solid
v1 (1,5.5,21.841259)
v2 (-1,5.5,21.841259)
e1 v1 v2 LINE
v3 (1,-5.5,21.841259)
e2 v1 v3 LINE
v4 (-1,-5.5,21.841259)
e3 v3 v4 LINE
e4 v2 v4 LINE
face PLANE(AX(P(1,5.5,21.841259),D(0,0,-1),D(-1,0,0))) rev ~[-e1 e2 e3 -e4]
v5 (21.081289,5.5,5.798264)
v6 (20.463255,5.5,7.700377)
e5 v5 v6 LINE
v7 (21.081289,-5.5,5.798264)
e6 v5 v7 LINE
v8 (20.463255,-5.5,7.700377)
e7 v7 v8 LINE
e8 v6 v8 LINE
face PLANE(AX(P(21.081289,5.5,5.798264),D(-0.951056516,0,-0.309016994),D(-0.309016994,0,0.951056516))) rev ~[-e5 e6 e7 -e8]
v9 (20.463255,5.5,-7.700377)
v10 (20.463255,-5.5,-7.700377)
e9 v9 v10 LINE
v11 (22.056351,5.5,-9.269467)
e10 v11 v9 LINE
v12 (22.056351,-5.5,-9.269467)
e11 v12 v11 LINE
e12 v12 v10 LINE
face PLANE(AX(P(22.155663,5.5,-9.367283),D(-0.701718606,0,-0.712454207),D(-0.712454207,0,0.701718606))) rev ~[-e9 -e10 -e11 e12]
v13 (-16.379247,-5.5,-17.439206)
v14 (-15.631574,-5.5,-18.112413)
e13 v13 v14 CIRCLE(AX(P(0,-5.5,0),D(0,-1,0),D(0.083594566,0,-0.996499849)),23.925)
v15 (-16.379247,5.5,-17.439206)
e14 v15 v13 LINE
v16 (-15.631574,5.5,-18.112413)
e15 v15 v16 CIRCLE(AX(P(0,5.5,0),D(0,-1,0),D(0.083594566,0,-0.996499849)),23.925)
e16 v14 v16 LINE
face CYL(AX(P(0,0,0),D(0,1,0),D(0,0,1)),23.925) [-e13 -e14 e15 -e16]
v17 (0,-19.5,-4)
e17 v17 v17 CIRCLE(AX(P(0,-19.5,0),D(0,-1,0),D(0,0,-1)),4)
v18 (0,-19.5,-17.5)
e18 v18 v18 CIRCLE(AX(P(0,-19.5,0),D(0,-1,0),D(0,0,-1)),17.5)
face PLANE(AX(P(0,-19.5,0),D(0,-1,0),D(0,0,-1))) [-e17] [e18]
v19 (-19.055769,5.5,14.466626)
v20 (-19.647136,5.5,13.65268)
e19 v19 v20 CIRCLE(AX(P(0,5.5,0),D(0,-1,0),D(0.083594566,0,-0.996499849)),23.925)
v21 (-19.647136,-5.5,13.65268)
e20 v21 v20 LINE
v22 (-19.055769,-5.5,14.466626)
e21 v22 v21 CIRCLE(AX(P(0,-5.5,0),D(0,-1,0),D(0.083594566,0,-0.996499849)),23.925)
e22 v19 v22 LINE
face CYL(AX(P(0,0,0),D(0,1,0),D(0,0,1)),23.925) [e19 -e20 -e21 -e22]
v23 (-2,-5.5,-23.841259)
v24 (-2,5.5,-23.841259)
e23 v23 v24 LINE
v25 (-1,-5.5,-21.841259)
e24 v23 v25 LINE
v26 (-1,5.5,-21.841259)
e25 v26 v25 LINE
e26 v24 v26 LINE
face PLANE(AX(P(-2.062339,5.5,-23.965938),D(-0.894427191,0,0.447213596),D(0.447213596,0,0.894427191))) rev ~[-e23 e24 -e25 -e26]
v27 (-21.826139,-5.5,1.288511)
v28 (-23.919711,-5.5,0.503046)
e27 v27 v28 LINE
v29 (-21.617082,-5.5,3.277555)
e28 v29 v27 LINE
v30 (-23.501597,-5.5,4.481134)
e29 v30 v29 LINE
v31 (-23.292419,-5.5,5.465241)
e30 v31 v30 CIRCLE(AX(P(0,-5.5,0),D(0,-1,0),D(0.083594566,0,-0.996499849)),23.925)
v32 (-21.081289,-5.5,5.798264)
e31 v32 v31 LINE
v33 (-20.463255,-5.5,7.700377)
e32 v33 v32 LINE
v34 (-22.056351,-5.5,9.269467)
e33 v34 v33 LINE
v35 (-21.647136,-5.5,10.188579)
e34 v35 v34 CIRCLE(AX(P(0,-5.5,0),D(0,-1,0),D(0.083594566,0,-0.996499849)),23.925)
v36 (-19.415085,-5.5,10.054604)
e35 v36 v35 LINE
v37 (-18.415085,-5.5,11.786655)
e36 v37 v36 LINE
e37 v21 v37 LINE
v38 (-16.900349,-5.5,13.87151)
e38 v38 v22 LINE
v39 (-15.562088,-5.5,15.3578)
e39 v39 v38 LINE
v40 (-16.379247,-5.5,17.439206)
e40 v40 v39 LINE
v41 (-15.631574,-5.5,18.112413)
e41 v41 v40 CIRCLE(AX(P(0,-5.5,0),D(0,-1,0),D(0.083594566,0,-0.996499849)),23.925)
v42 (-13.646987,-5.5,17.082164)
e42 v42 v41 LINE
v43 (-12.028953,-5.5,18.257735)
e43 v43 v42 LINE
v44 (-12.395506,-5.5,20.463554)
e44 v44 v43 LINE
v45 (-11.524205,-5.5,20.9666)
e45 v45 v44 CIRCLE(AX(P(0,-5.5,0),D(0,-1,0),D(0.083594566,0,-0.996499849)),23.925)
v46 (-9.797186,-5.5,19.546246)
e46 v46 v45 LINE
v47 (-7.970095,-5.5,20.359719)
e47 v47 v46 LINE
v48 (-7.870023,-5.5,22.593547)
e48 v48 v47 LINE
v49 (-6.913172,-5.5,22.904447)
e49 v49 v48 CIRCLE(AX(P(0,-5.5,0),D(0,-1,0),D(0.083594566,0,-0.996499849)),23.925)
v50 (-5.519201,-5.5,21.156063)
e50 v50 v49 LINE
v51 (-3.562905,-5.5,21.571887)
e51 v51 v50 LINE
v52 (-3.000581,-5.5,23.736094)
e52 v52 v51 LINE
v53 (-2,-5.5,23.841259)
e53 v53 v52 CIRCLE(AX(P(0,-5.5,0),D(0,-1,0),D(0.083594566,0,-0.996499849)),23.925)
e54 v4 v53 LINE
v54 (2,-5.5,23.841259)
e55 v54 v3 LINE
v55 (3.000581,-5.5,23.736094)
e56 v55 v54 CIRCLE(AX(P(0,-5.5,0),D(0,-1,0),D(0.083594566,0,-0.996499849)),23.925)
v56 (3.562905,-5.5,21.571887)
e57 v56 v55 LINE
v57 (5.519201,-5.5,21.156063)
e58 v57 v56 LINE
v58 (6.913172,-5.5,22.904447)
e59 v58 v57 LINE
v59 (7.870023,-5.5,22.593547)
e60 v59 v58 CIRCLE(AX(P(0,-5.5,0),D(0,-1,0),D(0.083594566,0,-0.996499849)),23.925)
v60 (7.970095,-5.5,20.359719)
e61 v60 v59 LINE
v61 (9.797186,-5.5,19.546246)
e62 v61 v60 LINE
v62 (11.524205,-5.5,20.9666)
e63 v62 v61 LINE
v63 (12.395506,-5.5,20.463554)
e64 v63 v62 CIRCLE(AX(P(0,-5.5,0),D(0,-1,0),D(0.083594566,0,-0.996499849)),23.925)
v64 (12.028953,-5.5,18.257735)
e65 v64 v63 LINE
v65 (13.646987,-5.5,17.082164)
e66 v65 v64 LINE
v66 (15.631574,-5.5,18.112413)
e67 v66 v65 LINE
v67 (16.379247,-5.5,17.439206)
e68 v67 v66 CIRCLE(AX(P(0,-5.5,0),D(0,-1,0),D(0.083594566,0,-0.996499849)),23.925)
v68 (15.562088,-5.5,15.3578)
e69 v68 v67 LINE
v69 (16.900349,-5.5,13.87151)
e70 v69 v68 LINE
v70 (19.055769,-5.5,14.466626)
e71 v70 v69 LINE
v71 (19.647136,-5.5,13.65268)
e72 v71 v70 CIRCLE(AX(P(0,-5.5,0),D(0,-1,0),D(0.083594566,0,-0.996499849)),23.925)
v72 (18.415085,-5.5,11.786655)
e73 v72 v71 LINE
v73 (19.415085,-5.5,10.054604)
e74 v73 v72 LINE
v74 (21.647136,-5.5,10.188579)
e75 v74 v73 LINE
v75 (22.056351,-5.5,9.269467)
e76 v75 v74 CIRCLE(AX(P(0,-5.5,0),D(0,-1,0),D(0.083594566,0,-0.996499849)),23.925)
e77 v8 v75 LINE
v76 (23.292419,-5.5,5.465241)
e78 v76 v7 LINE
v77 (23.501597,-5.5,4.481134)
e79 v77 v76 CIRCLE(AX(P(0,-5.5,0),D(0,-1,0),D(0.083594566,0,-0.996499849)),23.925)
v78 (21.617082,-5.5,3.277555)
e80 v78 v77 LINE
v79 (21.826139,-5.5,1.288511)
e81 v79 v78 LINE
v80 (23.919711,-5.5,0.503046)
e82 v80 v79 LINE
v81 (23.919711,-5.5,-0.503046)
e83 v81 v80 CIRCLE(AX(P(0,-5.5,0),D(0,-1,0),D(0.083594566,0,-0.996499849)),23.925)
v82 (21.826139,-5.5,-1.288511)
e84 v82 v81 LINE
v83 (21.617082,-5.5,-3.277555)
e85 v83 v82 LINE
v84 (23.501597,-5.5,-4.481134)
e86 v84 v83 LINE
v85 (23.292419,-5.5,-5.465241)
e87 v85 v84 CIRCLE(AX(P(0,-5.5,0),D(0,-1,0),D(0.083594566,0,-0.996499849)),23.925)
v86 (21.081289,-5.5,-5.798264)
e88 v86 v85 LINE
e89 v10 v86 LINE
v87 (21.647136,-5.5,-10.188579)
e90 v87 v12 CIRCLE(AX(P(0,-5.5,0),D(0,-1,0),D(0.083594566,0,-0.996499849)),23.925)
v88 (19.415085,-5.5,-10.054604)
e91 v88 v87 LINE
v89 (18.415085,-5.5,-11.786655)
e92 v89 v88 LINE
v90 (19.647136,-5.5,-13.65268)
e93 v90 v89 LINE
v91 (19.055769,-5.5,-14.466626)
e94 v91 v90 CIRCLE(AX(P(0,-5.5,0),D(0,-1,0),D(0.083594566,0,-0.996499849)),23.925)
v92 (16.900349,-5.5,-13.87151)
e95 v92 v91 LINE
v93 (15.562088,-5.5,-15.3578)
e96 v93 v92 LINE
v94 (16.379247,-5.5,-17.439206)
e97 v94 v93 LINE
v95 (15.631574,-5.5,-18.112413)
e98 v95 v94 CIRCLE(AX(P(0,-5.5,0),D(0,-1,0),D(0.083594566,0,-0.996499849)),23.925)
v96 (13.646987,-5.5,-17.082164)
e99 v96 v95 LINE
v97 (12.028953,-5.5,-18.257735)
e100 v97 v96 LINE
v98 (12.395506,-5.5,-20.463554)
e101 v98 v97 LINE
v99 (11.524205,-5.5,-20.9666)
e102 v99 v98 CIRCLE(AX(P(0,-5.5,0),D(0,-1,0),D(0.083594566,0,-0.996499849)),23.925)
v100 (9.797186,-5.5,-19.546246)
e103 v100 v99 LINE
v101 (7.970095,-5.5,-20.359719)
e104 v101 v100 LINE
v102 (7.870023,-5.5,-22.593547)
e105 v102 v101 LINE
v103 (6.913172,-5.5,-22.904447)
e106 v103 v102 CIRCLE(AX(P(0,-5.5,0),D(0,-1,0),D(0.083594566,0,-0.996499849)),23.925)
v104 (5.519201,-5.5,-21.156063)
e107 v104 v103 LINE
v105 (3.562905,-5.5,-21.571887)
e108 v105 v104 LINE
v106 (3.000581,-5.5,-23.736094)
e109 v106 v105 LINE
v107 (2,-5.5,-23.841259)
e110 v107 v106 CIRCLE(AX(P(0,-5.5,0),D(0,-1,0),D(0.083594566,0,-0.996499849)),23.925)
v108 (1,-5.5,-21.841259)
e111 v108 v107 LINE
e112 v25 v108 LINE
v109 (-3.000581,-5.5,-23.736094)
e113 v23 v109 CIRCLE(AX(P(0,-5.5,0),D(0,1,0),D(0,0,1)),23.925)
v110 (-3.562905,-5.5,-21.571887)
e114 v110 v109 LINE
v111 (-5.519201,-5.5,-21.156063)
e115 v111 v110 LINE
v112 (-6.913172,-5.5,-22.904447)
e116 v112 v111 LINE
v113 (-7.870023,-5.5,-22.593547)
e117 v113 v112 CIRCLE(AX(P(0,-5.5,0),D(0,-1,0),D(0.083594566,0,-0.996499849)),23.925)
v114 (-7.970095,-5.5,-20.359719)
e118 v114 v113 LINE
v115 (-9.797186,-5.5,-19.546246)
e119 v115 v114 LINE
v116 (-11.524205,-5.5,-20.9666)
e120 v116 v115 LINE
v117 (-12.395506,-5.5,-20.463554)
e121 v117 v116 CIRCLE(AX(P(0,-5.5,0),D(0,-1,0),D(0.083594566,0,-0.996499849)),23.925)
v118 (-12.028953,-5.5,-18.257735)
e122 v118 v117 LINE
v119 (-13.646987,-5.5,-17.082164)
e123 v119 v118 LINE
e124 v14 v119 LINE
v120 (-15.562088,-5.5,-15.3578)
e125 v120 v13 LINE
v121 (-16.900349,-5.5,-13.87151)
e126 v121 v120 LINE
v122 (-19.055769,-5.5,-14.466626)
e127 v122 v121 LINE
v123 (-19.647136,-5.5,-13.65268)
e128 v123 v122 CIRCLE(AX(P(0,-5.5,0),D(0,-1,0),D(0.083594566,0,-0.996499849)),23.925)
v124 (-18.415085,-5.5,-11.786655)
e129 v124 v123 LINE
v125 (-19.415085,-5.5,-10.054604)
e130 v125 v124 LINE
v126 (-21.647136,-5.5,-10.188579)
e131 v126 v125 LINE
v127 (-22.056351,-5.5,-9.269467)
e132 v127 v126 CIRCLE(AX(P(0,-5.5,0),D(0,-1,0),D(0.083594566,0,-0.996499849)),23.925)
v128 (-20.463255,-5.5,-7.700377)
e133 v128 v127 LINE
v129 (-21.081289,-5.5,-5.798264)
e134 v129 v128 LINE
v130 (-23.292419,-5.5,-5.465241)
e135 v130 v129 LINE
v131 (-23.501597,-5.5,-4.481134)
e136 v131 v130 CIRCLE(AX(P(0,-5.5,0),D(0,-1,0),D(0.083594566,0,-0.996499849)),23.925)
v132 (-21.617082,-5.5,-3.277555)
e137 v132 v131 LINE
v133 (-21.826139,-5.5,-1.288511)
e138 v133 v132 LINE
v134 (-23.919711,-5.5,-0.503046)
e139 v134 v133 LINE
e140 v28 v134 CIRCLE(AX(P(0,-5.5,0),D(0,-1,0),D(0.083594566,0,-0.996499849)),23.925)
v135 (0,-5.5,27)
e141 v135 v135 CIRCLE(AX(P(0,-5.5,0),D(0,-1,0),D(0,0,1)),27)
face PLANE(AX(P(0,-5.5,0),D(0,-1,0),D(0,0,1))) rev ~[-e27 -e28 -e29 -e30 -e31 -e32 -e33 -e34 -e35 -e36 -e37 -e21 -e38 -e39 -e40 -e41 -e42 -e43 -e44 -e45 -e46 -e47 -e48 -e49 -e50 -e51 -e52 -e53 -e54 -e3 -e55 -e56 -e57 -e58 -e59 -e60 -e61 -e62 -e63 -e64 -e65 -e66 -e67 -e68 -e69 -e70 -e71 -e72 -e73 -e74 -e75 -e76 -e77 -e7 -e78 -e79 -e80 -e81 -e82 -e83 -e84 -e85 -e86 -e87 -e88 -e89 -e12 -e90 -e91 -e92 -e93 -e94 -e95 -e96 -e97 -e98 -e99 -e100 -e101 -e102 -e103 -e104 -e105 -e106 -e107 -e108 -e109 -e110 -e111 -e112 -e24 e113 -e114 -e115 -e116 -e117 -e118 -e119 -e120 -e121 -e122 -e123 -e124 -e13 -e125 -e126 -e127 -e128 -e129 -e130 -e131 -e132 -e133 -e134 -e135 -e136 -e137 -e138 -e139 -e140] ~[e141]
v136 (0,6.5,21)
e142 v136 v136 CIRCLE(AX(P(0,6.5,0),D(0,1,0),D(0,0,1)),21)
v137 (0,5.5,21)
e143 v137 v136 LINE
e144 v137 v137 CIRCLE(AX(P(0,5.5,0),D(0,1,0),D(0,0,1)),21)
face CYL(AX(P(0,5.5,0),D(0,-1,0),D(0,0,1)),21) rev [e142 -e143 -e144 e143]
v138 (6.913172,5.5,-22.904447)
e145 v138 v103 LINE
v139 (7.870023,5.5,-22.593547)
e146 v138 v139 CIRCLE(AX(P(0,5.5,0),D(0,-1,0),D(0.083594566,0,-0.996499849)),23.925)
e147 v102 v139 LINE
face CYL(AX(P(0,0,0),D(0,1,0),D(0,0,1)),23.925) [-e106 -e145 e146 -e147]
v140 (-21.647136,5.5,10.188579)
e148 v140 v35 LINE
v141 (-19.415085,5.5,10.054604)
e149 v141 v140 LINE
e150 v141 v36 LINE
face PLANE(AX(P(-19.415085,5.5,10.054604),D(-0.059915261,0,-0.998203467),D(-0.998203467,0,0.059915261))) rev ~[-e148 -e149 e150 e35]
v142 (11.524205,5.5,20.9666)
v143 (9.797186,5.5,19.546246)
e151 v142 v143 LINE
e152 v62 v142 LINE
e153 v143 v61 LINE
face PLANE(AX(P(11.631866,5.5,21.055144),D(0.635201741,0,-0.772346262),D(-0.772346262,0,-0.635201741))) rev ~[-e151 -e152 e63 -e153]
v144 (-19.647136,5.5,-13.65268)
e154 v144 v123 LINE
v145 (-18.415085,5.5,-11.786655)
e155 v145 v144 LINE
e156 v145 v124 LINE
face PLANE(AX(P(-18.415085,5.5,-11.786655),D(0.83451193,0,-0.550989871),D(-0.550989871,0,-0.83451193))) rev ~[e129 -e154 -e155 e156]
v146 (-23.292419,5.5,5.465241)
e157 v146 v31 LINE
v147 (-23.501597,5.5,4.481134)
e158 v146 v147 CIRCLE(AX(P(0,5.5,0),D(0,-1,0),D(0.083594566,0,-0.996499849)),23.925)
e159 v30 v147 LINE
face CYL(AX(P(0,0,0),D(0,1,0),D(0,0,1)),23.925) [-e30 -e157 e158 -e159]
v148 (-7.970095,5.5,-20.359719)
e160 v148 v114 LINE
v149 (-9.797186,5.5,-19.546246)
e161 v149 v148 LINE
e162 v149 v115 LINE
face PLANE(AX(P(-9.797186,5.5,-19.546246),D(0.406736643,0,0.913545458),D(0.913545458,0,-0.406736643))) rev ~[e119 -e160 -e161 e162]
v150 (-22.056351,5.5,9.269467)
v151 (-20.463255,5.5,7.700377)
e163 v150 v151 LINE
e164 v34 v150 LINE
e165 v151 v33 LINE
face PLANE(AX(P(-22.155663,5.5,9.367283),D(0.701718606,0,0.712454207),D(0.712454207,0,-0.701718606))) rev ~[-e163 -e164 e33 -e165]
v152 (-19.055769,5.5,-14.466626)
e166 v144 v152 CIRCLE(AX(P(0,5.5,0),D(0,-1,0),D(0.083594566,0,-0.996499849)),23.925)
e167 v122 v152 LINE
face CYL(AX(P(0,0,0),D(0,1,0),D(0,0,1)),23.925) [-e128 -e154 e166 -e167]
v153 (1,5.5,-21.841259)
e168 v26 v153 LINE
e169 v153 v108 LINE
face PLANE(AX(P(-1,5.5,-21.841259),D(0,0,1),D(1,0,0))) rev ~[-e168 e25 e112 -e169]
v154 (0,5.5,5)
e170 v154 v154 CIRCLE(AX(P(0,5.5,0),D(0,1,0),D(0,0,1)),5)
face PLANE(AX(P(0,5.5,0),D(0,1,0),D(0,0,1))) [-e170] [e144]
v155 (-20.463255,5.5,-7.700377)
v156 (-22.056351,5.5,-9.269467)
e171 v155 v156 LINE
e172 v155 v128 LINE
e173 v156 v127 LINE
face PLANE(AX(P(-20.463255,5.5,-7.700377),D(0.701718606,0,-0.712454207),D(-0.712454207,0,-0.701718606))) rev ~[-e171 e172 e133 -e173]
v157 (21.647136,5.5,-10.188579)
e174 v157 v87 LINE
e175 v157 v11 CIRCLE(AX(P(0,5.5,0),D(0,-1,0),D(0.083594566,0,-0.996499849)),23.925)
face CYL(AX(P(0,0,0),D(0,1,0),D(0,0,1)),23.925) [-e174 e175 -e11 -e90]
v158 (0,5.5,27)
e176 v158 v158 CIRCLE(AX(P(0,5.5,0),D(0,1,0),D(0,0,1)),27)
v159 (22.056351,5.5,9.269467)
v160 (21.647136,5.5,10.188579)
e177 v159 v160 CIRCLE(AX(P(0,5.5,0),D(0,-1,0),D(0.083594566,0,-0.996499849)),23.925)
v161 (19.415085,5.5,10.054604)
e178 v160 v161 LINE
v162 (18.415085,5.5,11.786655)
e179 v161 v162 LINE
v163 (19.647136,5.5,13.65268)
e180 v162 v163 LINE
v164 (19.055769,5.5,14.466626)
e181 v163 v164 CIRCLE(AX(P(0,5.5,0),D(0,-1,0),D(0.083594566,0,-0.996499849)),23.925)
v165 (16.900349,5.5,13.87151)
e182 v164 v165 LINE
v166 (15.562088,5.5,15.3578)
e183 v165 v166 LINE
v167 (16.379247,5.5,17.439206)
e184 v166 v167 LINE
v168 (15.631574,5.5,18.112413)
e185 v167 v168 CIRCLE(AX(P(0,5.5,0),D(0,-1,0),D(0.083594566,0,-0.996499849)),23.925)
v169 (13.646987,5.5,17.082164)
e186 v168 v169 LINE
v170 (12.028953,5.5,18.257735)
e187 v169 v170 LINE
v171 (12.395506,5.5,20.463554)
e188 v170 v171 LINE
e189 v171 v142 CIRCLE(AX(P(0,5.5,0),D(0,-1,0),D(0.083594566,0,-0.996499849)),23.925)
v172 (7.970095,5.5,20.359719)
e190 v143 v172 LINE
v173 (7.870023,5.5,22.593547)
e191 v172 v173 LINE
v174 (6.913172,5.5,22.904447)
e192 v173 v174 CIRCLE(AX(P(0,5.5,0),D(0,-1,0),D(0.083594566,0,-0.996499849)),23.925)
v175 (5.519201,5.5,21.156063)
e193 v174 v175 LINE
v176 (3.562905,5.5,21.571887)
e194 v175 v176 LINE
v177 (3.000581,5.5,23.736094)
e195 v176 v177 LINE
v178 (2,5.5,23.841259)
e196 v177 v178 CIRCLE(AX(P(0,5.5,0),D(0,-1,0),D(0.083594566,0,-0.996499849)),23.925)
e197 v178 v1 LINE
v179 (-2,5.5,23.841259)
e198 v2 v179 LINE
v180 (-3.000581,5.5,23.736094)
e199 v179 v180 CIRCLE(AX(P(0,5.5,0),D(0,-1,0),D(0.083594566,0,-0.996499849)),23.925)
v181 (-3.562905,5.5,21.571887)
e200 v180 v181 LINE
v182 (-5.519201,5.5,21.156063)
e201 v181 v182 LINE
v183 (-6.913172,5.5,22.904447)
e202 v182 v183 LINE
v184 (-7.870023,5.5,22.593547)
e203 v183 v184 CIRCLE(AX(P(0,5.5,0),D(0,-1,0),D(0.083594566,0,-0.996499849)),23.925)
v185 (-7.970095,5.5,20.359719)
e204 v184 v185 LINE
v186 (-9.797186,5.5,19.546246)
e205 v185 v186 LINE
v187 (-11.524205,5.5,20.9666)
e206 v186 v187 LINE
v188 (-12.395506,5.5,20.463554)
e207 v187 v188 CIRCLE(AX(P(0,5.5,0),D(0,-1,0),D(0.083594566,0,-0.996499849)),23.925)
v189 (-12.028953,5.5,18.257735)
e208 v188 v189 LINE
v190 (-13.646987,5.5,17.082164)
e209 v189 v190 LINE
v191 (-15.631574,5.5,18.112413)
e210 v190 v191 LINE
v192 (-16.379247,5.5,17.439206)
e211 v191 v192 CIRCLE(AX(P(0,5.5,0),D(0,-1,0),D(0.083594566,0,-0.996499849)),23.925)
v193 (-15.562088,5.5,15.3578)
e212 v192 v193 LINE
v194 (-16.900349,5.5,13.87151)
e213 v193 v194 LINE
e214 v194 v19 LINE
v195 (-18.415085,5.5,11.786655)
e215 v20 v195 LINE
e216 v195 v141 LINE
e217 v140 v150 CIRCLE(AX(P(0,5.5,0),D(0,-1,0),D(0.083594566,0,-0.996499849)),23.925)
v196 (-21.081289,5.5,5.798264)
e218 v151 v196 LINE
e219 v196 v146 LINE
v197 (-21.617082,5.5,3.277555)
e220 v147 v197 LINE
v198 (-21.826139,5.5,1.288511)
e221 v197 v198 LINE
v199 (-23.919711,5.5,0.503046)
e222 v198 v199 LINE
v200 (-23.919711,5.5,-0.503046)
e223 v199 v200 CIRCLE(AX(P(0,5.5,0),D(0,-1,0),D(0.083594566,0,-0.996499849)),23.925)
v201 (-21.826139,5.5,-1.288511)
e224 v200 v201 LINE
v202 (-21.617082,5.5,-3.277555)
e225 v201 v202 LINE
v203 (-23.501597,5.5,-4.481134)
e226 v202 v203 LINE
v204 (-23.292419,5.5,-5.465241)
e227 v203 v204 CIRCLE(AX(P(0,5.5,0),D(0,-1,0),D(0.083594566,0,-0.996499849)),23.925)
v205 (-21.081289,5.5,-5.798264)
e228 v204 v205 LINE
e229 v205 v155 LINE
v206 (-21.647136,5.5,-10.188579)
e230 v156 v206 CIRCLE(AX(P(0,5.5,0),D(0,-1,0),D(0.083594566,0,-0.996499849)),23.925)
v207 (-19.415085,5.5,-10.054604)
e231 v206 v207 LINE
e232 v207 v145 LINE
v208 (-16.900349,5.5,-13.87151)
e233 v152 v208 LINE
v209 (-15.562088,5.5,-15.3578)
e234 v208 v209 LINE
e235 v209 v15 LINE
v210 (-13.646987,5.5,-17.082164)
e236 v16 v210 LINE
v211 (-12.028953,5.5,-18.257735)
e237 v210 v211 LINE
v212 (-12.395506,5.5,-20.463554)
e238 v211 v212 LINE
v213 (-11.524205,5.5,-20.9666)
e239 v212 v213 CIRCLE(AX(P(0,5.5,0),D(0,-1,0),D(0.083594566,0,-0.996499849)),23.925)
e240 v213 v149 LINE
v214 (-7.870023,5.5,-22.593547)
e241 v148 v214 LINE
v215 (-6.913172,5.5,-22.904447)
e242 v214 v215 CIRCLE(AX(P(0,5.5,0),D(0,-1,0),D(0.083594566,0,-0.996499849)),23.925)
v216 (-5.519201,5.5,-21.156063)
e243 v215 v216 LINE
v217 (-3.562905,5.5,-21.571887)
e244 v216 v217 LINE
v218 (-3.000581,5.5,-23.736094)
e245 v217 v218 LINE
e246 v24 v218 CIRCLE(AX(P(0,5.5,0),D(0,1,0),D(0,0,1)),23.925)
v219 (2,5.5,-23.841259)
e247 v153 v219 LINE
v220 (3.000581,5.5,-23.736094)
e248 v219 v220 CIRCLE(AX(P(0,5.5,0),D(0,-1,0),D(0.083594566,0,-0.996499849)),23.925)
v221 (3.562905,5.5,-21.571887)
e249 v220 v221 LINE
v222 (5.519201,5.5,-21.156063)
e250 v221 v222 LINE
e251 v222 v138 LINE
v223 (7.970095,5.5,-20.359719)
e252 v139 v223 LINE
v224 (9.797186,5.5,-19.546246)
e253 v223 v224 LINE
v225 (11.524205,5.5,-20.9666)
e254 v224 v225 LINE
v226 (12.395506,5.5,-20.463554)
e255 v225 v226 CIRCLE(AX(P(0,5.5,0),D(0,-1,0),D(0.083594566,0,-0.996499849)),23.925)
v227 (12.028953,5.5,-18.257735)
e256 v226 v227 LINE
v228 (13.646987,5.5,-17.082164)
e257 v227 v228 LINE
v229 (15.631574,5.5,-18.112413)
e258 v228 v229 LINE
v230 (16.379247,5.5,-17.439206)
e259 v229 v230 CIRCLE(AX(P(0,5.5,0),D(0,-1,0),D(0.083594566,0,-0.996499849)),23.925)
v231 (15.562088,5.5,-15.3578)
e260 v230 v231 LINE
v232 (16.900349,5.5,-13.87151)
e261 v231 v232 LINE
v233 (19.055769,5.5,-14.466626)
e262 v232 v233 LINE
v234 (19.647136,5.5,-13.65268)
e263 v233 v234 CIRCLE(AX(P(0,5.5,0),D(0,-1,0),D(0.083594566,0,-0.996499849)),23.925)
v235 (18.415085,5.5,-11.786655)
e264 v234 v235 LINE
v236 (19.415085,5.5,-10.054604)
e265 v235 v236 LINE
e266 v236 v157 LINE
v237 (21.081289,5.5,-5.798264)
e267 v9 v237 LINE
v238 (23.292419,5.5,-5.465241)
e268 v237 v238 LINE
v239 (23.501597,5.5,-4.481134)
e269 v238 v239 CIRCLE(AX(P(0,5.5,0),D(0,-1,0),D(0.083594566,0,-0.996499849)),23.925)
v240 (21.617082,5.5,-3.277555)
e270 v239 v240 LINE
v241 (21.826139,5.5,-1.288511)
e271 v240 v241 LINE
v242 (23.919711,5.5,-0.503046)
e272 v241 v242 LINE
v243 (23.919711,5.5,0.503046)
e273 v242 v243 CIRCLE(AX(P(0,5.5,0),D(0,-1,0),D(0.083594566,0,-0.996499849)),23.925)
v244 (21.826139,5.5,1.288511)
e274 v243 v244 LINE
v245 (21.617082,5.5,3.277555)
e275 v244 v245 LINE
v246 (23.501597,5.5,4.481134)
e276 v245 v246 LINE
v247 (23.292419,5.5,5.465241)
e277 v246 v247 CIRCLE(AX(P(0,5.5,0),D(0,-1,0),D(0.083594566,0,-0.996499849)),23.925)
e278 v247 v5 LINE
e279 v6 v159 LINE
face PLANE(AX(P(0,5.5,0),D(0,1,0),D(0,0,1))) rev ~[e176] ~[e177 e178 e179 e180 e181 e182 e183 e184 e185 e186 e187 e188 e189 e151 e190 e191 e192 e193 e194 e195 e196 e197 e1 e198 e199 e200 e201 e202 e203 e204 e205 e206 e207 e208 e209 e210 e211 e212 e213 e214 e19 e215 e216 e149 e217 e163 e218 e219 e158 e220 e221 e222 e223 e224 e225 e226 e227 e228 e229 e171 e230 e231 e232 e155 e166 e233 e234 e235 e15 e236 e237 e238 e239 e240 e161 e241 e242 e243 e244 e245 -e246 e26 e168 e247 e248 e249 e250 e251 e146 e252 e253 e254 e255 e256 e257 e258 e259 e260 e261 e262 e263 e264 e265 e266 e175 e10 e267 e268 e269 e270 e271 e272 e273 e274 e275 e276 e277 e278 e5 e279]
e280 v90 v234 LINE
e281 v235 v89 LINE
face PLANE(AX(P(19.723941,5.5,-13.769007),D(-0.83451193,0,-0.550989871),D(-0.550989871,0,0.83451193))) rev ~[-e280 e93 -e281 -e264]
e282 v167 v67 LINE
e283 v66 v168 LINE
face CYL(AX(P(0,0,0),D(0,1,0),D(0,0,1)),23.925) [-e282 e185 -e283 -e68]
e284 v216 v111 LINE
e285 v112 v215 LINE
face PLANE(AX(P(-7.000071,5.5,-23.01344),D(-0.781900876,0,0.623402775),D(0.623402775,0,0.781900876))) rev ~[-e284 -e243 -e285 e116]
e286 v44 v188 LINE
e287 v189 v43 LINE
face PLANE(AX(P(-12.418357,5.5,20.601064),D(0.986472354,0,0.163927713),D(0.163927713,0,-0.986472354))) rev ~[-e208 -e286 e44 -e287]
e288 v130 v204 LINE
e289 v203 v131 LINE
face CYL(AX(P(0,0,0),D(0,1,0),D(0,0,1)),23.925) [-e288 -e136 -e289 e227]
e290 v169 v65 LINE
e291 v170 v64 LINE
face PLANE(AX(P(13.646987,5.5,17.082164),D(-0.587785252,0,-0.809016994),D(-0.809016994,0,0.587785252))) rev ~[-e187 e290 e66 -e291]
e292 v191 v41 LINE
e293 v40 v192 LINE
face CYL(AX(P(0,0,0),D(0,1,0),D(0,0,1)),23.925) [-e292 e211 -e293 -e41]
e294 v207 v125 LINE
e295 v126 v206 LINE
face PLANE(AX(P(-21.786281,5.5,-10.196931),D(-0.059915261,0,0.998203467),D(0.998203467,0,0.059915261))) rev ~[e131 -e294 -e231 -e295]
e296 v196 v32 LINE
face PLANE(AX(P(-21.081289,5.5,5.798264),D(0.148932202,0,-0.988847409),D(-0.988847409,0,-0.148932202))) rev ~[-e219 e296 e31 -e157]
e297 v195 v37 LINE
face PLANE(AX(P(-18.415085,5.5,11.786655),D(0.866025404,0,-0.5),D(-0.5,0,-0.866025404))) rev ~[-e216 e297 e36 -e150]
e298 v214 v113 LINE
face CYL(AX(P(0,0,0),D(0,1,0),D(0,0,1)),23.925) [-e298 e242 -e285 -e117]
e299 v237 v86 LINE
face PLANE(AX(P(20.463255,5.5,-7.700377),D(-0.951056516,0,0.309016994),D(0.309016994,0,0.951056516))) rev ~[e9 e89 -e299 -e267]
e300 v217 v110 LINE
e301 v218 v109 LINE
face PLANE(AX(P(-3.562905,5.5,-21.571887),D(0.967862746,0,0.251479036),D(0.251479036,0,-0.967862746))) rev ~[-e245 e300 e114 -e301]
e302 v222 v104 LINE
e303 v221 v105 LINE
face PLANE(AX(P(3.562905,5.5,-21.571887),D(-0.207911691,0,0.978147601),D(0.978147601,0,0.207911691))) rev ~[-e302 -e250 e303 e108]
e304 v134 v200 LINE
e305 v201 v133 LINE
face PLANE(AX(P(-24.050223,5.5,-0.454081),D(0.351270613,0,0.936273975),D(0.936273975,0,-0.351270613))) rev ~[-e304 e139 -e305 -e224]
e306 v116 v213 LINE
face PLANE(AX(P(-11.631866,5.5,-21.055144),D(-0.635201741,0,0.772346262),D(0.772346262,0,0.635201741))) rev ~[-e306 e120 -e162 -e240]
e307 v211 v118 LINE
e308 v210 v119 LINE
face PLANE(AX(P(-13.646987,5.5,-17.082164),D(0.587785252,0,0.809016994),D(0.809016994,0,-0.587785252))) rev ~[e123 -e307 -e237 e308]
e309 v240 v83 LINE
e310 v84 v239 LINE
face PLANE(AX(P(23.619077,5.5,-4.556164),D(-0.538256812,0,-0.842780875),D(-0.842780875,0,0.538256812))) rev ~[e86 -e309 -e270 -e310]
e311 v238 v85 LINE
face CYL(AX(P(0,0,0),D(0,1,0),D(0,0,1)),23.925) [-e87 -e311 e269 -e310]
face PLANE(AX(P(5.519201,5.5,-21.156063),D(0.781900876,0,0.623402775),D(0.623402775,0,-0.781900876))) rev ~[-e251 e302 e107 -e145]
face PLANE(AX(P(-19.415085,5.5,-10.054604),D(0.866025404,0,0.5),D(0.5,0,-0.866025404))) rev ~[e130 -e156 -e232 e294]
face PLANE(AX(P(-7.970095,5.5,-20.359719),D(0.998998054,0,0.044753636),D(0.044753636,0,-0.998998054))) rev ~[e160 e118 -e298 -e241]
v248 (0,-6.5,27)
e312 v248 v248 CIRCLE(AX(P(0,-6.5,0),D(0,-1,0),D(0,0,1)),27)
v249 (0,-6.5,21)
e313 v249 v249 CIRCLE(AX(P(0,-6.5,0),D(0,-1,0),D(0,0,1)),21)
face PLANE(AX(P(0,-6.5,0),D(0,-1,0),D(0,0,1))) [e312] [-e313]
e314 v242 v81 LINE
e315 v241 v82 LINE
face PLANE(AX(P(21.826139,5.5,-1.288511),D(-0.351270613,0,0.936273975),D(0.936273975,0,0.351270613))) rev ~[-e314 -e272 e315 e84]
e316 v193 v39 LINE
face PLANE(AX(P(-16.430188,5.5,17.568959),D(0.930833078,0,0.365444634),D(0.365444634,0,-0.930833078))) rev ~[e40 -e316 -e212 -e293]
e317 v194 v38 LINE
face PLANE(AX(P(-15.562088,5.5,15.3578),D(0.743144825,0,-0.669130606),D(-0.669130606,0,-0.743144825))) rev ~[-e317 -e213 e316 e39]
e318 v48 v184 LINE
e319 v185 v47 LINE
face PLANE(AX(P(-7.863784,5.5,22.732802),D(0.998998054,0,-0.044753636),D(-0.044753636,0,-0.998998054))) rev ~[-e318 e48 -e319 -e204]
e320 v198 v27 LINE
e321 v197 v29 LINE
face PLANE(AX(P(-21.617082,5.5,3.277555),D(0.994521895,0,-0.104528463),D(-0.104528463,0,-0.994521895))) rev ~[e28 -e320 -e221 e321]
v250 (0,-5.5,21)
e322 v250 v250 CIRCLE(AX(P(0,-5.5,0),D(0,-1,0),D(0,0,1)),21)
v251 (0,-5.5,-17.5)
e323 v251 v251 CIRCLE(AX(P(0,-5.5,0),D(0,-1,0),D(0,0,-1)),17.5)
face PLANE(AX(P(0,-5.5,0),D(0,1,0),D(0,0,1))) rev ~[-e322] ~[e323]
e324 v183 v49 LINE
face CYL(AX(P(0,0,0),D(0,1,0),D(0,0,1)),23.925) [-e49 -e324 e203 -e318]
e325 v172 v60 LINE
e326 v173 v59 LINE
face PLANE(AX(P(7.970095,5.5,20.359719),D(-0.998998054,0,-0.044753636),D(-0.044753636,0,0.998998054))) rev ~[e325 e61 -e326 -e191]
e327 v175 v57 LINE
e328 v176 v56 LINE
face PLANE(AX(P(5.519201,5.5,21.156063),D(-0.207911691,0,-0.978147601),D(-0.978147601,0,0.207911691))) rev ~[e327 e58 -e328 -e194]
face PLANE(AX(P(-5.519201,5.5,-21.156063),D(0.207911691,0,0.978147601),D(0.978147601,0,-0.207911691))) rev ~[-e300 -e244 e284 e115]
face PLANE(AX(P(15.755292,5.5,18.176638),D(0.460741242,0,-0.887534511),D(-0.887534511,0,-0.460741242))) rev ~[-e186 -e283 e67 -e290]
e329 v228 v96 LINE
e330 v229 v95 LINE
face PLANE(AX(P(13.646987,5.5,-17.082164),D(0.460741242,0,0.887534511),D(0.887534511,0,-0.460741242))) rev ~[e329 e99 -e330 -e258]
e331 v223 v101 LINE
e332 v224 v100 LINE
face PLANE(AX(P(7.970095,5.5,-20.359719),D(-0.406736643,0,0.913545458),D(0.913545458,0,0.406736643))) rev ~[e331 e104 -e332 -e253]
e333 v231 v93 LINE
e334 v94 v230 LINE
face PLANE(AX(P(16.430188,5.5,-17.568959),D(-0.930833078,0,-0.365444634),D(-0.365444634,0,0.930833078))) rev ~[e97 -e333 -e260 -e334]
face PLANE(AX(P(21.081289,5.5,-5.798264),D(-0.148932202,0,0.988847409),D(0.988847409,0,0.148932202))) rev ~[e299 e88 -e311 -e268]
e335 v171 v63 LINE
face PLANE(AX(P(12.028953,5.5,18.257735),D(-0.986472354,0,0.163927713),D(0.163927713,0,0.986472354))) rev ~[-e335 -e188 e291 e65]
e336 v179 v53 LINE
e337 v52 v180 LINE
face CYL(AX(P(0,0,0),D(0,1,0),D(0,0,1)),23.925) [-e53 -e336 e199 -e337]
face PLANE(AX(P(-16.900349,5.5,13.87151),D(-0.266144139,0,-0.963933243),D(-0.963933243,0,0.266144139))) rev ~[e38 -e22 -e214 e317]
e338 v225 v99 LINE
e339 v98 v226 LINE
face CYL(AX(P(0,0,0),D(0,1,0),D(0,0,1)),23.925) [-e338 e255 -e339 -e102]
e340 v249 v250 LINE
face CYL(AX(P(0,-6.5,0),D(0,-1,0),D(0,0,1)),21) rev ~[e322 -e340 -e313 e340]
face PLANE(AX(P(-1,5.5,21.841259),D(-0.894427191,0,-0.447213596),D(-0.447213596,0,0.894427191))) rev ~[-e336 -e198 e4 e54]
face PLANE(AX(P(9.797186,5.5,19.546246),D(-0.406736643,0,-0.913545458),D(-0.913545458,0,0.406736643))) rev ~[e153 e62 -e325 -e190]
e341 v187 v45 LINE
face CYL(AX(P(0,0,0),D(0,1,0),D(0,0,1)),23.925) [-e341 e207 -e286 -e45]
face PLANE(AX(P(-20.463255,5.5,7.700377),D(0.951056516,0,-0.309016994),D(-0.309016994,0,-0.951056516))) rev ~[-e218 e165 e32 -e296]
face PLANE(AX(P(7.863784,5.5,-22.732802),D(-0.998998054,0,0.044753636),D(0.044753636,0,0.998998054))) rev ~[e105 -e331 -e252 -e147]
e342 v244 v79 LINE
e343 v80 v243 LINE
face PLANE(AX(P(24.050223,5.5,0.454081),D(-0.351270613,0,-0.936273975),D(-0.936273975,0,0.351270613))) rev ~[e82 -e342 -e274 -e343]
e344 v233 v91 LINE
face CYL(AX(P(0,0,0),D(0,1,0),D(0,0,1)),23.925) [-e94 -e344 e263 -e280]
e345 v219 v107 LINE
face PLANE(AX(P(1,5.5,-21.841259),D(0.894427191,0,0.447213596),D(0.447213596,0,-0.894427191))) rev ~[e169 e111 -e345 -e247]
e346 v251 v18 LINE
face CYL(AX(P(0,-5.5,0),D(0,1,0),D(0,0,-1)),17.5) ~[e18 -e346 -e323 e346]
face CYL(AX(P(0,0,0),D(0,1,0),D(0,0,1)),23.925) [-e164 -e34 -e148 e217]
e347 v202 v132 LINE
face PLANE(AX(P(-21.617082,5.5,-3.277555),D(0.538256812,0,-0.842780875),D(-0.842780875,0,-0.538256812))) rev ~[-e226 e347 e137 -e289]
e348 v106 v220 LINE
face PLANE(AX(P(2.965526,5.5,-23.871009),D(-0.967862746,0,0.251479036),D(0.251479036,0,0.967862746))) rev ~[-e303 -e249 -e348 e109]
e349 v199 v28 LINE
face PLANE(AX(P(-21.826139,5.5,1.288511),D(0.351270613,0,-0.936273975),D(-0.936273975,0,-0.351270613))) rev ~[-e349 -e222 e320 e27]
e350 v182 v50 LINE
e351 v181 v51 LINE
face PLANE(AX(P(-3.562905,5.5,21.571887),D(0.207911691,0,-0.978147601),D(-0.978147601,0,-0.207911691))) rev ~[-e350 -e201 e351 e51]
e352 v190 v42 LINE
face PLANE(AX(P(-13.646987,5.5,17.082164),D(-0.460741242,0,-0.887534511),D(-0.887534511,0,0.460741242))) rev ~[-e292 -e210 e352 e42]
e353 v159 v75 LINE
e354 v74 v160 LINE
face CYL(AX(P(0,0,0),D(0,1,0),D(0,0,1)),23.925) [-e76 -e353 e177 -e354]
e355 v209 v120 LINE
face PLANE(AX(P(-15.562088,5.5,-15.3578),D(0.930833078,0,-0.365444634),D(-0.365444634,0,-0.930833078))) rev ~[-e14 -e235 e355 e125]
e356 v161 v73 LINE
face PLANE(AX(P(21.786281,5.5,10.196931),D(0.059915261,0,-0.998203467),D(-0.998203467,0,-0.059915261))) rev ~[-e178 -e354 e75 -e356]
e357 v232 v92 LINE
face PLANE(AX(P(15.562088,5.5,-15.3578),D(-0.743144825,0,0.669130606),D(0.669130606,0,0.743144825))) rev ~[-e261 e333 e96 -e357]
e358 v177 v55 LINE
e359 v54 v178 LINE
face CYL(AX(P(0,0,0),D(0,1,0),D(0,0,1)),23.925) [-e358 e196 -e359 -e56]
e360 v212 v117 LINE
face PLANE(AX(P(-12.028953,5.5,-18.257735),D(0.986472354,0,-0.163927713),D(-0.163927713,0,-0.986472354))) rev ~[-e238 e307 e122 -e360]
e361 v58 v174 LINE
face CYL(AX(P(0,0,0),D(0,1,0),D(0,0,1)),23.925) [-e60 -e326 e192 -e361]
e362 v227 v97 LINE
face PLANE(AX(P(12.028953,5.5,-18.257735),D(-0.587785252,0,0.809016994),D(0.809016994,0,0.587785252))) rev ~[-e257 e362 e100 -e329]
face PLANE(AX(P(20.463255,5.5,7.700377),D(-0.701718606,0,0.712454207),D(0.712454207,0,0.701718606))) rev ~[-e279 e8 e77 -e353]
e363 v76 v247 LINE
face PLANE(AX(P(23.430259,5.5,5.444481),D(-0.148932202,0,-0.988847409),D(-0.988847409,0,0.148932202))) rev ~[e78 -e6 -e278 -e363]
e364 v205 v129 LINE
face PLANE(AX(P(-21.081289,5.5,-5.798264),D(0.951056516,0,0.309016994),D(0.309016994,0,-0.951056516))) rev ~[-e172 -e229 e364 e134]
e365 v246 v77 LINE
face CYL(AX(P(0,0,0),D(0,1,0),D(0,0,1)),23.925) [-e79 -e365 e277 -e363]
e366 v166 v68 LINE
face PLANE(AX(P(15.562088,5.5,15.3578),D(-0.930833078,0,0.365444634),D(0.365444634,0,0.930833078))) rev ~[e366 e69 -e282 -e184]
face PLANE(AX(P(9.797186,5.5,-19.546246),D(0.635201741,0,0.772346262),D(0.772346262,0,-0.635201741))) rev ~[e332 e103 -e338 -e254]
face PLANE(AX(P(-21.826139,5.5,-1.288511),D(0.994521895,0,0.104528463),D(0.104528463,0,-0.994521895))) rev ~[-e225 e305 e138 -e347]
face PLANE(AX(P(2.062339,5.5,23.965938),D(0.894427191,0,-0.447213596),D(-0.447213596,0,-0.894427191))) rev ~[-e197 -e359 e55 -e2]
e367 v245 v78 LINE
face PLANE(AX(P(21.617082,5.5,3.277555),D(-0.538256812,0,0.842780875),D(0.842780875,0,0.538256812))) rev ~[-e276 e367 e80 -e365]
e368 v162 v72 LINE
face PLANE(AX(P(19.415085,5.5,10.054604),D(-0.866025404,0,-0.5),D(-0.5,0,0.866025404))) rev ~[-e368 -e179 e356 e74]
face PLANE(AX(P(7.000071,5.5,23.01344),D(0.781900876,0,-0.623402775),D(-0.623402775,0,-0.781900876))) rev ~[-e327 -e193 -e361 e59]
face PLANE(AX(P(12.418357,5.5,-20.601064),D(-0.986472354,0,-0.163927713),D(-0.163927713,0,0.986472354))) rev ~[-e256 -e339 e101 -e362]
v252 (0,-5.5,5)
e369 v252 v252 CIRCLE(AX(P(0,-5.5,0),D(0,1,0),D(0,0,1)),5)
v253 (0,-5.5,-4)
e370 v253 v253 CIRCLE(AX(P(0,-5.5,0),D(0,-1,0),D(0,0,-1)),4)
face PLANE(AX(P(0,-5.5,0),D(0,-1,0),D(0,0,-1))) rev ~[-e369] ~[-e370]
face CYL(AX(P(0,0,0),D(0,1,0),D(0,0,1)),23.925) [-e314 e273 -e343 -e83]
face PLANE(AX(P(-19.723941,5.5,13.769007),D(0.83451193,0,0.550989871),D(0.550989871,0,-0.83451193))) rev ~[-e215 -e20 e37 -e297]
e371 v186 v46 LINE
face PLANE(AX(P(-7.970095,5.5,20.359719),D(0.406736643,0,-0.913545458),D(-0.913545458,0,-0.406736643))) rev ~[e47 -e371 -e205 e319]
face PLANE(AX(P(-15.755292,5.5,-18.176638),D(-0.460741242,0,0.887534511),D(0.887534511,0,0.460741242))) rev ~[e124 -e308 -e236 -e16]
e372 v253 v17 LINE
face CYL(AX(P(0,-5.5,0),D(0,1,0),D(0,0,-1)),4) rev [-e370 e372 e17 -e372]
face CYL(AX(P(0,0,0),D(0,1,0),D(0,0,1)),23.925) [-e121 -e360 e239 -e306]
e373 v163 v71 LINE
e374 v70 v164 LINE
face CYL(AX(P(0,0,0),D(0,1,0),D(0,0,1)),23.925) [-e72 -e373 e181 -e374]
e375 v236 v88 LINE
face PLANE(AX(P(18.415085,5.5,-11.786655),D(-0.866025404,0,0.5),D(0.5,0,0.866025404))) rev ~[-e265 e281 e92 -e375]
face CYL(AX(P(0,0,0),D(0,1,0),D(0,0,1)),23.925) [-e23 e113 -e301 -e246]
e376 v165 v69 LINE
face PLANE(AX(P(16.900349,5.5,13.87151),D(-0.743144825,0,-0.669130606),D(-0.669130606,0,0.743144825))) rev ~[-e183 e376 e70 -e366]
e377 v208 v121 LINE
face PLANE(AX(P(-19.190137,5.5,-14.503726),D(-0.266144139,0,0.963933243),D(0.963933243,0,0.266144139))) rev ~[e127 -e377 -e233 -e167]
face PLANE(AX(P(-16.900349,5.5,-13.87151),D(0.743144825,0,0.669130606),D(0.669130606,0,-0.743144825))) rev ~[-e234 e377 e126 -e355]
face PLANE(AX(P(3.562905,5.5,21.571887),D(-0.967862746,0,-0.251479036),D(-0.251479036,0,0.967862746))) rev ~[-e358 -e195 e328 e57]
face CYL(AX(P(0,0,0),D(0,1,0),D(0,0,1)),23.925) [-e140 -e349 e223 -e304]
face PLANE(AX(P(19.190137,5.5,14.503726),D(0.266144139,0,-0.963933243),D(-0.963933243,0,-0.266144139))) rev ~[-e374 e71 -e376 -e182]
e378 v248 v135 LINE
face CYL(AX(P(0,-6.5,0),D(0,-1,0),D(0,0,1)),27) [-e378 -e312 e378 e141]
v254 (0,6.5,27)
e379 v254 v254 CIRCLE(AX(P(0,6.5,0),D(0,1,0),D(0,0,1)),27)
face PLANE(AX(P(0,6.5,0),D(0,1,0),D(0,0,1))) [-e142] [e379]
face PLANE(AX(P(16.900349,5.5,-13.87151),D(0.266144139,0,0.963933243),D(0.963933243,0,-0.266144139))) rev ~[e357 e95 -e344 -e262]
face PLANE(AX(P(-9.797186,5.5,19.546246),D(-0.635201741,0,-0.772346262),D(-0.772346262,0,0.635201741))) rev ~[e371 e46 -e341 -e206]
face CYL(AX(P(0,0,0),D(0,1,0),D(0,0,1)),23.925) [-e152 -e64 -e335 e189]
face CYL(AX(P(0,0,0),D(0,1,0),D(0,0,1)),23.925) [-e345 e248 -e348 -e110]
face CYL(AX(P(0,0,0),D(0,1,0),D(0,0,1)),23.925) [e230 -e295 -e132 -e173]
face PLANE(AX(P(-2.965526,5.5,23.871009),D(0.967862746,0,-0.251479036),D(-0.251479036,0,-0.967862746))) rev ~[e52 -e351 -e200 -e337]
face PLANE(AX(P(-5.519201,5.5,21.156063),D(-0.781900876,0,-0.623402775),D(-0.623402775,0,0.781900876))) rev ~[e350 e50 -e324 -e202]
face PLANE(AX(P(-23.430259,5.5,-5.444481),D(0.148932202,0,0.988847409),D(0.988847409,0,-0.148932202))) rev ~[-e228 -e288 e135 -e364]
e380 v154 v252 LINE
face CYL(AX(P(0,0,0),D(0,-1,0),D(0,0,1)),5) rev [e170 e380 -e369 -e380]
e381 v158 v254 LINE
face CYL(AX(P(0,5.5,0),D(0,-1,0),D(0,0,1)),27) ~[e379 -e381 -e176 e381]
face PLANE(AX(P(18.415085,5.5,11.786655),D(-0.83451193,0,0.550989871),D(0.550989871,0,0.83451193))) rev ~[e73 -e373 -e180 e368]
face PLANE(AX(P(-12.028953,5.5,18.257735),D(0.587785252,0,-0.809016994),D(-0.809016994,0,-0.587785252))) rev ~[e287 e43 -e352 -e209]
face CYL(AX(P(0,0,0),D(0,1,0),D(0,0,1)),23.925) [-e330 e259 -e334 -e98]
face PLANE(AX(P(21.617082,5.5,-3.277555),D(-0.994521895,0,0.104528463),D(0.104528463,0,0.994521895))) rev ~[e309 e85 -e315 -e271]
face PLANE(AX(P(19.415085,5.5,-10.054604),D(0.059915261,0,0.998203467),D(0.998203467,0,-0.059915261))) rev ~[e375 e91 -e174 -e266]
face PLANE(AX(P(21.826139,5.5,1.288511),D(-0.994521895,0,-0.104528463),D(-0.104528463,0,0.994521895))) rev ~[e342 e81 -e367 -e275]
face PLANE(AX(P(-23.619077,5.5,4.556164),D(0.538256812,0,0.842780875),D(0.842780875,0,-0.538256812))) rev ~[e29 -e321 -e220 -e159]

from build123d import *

# Parameters (mm, degrees)
SKETCH1_R           = 23.925
SKETCH1_R_2         = 5
BOSS_EXTRUDE1_DEPTH = 5.5
SKETCH2_R           = 17.5
SKETCH2_R_2         = 4
BOSS_EXTRUDE3_DEPTH = 14
CUT_EXTRUDE1_DEPTH  = 11
CIRPATTERN10_COUNT  = 30
SKETCH4_R           = 27
SKETCH4_R_2         = 21
BOSS_EXTRUDE4_DEPTH = 1
BOSS_EXTRUDE5_START = 1
SKETCH5_R           = 27
SKETCH5_R_2         = 21
BOSS_EXTRUDE5_DEPTH = 1


with BuildPart() as part:
    # Sketch1 → Boss-Extrude1 (new, symmetric)
    with BuildSketch(Plane(origin=(0, 0, 0), x_dir=(1, 0, 0), z_dir=(0, 1, 0))):
        with Locations(Location((0, 0, 0), (0, 0, 270))):
            Circle(SKETCH1_R)
        with Locations(Location((0, 0, 0), (0, 0, 270))):
            Circle(SKETCH1_R_2, mode=Mode.SUBTRACT)
    extrude(amount=BOSS_EXTRUDE1_DEPTH, both=True)

    # Sketch2 → Boss-Extrude3 (add)
    with BuildSketch(Plane.XZ.offset(5.5)):
        with Locations(Location((0, 0, 0), (0, 0, 270))):
            Circle(SKETCH2_R)
        with Locations(Location((0, 0, 0), (0, 0, 270))):
            Circle(SKETCH2_R_2, mode=Mode.SUBTRACT)
    extrude(amount=BOSS_EXTRUDE3_DEPTH)

    # Sketch3 → Cut-Extrude1 (cut)
    with BuildSketch(Plane(origin=(0, 5.5, 0), x_dir=(1, 0, 0), z_dir=(0, 1, 0))):
        Polygon((-1, 21.84125888), (1, 21.84125888), (2, 23.84125888), (2.094207699, 23.965937646), (-2.062339383, 23.965937646), (-2, 23.84125888), align=None)
    cut_extrude1 = extrude(amount=-CUT_EXTRUDE1_DEPTH, mode=Mode.SUBTRACT)

    # CirPattern10: Cut-Extrude1 ×30 about axis
    cirpattern10_axis = Axis((0, 0, 0), (0, 1, 0))
    for i in range(1, CIRPATTERN10_COUNT):
        add(cut_extrude1.rotate(cirpattern10_axis, i * 360 / CIRPATTERN10_COUNT), mode=Mode.SUBTRACT)

    # Sketch4 → Boss-Extrude4 (add)
    with BuildSketch(Plane(origin=(0, 5.5, 0), x_dir=(1, 0, 0), z_dir=(0, 1, 0))):
        with Locations(Location((0, 0, 0), (0, 0, 270))):
            Circle(SKETCH4_R)
        with Locations(Location((0, 0, 0), (0, 0, 270))):
            Circle(SKETCH4_R_2, mode=Mode.SUBTRACT)
    extrude(amount=BOSS_EXTRUDE4_DEPTH)

    # Sketch5 → Boss-Extrude5 (add)
    with BuildSketch(Plane.XZ.offset(5.5).offset(BOSS_EXTRUDE5_START)):
        with Locations(Location((0, 0, 0), (0, 0, 90))):
            Circle(SKETCH5_R)
        with Locations(Location((0, 0, 0), (0, 0, 90))):
            Circle(SKETCH5_R_2, mode=Mode.SUBTRACT)
    extrude(amount=-BOSS_EXTRUDE5_DEPTH)


solid = part.part
